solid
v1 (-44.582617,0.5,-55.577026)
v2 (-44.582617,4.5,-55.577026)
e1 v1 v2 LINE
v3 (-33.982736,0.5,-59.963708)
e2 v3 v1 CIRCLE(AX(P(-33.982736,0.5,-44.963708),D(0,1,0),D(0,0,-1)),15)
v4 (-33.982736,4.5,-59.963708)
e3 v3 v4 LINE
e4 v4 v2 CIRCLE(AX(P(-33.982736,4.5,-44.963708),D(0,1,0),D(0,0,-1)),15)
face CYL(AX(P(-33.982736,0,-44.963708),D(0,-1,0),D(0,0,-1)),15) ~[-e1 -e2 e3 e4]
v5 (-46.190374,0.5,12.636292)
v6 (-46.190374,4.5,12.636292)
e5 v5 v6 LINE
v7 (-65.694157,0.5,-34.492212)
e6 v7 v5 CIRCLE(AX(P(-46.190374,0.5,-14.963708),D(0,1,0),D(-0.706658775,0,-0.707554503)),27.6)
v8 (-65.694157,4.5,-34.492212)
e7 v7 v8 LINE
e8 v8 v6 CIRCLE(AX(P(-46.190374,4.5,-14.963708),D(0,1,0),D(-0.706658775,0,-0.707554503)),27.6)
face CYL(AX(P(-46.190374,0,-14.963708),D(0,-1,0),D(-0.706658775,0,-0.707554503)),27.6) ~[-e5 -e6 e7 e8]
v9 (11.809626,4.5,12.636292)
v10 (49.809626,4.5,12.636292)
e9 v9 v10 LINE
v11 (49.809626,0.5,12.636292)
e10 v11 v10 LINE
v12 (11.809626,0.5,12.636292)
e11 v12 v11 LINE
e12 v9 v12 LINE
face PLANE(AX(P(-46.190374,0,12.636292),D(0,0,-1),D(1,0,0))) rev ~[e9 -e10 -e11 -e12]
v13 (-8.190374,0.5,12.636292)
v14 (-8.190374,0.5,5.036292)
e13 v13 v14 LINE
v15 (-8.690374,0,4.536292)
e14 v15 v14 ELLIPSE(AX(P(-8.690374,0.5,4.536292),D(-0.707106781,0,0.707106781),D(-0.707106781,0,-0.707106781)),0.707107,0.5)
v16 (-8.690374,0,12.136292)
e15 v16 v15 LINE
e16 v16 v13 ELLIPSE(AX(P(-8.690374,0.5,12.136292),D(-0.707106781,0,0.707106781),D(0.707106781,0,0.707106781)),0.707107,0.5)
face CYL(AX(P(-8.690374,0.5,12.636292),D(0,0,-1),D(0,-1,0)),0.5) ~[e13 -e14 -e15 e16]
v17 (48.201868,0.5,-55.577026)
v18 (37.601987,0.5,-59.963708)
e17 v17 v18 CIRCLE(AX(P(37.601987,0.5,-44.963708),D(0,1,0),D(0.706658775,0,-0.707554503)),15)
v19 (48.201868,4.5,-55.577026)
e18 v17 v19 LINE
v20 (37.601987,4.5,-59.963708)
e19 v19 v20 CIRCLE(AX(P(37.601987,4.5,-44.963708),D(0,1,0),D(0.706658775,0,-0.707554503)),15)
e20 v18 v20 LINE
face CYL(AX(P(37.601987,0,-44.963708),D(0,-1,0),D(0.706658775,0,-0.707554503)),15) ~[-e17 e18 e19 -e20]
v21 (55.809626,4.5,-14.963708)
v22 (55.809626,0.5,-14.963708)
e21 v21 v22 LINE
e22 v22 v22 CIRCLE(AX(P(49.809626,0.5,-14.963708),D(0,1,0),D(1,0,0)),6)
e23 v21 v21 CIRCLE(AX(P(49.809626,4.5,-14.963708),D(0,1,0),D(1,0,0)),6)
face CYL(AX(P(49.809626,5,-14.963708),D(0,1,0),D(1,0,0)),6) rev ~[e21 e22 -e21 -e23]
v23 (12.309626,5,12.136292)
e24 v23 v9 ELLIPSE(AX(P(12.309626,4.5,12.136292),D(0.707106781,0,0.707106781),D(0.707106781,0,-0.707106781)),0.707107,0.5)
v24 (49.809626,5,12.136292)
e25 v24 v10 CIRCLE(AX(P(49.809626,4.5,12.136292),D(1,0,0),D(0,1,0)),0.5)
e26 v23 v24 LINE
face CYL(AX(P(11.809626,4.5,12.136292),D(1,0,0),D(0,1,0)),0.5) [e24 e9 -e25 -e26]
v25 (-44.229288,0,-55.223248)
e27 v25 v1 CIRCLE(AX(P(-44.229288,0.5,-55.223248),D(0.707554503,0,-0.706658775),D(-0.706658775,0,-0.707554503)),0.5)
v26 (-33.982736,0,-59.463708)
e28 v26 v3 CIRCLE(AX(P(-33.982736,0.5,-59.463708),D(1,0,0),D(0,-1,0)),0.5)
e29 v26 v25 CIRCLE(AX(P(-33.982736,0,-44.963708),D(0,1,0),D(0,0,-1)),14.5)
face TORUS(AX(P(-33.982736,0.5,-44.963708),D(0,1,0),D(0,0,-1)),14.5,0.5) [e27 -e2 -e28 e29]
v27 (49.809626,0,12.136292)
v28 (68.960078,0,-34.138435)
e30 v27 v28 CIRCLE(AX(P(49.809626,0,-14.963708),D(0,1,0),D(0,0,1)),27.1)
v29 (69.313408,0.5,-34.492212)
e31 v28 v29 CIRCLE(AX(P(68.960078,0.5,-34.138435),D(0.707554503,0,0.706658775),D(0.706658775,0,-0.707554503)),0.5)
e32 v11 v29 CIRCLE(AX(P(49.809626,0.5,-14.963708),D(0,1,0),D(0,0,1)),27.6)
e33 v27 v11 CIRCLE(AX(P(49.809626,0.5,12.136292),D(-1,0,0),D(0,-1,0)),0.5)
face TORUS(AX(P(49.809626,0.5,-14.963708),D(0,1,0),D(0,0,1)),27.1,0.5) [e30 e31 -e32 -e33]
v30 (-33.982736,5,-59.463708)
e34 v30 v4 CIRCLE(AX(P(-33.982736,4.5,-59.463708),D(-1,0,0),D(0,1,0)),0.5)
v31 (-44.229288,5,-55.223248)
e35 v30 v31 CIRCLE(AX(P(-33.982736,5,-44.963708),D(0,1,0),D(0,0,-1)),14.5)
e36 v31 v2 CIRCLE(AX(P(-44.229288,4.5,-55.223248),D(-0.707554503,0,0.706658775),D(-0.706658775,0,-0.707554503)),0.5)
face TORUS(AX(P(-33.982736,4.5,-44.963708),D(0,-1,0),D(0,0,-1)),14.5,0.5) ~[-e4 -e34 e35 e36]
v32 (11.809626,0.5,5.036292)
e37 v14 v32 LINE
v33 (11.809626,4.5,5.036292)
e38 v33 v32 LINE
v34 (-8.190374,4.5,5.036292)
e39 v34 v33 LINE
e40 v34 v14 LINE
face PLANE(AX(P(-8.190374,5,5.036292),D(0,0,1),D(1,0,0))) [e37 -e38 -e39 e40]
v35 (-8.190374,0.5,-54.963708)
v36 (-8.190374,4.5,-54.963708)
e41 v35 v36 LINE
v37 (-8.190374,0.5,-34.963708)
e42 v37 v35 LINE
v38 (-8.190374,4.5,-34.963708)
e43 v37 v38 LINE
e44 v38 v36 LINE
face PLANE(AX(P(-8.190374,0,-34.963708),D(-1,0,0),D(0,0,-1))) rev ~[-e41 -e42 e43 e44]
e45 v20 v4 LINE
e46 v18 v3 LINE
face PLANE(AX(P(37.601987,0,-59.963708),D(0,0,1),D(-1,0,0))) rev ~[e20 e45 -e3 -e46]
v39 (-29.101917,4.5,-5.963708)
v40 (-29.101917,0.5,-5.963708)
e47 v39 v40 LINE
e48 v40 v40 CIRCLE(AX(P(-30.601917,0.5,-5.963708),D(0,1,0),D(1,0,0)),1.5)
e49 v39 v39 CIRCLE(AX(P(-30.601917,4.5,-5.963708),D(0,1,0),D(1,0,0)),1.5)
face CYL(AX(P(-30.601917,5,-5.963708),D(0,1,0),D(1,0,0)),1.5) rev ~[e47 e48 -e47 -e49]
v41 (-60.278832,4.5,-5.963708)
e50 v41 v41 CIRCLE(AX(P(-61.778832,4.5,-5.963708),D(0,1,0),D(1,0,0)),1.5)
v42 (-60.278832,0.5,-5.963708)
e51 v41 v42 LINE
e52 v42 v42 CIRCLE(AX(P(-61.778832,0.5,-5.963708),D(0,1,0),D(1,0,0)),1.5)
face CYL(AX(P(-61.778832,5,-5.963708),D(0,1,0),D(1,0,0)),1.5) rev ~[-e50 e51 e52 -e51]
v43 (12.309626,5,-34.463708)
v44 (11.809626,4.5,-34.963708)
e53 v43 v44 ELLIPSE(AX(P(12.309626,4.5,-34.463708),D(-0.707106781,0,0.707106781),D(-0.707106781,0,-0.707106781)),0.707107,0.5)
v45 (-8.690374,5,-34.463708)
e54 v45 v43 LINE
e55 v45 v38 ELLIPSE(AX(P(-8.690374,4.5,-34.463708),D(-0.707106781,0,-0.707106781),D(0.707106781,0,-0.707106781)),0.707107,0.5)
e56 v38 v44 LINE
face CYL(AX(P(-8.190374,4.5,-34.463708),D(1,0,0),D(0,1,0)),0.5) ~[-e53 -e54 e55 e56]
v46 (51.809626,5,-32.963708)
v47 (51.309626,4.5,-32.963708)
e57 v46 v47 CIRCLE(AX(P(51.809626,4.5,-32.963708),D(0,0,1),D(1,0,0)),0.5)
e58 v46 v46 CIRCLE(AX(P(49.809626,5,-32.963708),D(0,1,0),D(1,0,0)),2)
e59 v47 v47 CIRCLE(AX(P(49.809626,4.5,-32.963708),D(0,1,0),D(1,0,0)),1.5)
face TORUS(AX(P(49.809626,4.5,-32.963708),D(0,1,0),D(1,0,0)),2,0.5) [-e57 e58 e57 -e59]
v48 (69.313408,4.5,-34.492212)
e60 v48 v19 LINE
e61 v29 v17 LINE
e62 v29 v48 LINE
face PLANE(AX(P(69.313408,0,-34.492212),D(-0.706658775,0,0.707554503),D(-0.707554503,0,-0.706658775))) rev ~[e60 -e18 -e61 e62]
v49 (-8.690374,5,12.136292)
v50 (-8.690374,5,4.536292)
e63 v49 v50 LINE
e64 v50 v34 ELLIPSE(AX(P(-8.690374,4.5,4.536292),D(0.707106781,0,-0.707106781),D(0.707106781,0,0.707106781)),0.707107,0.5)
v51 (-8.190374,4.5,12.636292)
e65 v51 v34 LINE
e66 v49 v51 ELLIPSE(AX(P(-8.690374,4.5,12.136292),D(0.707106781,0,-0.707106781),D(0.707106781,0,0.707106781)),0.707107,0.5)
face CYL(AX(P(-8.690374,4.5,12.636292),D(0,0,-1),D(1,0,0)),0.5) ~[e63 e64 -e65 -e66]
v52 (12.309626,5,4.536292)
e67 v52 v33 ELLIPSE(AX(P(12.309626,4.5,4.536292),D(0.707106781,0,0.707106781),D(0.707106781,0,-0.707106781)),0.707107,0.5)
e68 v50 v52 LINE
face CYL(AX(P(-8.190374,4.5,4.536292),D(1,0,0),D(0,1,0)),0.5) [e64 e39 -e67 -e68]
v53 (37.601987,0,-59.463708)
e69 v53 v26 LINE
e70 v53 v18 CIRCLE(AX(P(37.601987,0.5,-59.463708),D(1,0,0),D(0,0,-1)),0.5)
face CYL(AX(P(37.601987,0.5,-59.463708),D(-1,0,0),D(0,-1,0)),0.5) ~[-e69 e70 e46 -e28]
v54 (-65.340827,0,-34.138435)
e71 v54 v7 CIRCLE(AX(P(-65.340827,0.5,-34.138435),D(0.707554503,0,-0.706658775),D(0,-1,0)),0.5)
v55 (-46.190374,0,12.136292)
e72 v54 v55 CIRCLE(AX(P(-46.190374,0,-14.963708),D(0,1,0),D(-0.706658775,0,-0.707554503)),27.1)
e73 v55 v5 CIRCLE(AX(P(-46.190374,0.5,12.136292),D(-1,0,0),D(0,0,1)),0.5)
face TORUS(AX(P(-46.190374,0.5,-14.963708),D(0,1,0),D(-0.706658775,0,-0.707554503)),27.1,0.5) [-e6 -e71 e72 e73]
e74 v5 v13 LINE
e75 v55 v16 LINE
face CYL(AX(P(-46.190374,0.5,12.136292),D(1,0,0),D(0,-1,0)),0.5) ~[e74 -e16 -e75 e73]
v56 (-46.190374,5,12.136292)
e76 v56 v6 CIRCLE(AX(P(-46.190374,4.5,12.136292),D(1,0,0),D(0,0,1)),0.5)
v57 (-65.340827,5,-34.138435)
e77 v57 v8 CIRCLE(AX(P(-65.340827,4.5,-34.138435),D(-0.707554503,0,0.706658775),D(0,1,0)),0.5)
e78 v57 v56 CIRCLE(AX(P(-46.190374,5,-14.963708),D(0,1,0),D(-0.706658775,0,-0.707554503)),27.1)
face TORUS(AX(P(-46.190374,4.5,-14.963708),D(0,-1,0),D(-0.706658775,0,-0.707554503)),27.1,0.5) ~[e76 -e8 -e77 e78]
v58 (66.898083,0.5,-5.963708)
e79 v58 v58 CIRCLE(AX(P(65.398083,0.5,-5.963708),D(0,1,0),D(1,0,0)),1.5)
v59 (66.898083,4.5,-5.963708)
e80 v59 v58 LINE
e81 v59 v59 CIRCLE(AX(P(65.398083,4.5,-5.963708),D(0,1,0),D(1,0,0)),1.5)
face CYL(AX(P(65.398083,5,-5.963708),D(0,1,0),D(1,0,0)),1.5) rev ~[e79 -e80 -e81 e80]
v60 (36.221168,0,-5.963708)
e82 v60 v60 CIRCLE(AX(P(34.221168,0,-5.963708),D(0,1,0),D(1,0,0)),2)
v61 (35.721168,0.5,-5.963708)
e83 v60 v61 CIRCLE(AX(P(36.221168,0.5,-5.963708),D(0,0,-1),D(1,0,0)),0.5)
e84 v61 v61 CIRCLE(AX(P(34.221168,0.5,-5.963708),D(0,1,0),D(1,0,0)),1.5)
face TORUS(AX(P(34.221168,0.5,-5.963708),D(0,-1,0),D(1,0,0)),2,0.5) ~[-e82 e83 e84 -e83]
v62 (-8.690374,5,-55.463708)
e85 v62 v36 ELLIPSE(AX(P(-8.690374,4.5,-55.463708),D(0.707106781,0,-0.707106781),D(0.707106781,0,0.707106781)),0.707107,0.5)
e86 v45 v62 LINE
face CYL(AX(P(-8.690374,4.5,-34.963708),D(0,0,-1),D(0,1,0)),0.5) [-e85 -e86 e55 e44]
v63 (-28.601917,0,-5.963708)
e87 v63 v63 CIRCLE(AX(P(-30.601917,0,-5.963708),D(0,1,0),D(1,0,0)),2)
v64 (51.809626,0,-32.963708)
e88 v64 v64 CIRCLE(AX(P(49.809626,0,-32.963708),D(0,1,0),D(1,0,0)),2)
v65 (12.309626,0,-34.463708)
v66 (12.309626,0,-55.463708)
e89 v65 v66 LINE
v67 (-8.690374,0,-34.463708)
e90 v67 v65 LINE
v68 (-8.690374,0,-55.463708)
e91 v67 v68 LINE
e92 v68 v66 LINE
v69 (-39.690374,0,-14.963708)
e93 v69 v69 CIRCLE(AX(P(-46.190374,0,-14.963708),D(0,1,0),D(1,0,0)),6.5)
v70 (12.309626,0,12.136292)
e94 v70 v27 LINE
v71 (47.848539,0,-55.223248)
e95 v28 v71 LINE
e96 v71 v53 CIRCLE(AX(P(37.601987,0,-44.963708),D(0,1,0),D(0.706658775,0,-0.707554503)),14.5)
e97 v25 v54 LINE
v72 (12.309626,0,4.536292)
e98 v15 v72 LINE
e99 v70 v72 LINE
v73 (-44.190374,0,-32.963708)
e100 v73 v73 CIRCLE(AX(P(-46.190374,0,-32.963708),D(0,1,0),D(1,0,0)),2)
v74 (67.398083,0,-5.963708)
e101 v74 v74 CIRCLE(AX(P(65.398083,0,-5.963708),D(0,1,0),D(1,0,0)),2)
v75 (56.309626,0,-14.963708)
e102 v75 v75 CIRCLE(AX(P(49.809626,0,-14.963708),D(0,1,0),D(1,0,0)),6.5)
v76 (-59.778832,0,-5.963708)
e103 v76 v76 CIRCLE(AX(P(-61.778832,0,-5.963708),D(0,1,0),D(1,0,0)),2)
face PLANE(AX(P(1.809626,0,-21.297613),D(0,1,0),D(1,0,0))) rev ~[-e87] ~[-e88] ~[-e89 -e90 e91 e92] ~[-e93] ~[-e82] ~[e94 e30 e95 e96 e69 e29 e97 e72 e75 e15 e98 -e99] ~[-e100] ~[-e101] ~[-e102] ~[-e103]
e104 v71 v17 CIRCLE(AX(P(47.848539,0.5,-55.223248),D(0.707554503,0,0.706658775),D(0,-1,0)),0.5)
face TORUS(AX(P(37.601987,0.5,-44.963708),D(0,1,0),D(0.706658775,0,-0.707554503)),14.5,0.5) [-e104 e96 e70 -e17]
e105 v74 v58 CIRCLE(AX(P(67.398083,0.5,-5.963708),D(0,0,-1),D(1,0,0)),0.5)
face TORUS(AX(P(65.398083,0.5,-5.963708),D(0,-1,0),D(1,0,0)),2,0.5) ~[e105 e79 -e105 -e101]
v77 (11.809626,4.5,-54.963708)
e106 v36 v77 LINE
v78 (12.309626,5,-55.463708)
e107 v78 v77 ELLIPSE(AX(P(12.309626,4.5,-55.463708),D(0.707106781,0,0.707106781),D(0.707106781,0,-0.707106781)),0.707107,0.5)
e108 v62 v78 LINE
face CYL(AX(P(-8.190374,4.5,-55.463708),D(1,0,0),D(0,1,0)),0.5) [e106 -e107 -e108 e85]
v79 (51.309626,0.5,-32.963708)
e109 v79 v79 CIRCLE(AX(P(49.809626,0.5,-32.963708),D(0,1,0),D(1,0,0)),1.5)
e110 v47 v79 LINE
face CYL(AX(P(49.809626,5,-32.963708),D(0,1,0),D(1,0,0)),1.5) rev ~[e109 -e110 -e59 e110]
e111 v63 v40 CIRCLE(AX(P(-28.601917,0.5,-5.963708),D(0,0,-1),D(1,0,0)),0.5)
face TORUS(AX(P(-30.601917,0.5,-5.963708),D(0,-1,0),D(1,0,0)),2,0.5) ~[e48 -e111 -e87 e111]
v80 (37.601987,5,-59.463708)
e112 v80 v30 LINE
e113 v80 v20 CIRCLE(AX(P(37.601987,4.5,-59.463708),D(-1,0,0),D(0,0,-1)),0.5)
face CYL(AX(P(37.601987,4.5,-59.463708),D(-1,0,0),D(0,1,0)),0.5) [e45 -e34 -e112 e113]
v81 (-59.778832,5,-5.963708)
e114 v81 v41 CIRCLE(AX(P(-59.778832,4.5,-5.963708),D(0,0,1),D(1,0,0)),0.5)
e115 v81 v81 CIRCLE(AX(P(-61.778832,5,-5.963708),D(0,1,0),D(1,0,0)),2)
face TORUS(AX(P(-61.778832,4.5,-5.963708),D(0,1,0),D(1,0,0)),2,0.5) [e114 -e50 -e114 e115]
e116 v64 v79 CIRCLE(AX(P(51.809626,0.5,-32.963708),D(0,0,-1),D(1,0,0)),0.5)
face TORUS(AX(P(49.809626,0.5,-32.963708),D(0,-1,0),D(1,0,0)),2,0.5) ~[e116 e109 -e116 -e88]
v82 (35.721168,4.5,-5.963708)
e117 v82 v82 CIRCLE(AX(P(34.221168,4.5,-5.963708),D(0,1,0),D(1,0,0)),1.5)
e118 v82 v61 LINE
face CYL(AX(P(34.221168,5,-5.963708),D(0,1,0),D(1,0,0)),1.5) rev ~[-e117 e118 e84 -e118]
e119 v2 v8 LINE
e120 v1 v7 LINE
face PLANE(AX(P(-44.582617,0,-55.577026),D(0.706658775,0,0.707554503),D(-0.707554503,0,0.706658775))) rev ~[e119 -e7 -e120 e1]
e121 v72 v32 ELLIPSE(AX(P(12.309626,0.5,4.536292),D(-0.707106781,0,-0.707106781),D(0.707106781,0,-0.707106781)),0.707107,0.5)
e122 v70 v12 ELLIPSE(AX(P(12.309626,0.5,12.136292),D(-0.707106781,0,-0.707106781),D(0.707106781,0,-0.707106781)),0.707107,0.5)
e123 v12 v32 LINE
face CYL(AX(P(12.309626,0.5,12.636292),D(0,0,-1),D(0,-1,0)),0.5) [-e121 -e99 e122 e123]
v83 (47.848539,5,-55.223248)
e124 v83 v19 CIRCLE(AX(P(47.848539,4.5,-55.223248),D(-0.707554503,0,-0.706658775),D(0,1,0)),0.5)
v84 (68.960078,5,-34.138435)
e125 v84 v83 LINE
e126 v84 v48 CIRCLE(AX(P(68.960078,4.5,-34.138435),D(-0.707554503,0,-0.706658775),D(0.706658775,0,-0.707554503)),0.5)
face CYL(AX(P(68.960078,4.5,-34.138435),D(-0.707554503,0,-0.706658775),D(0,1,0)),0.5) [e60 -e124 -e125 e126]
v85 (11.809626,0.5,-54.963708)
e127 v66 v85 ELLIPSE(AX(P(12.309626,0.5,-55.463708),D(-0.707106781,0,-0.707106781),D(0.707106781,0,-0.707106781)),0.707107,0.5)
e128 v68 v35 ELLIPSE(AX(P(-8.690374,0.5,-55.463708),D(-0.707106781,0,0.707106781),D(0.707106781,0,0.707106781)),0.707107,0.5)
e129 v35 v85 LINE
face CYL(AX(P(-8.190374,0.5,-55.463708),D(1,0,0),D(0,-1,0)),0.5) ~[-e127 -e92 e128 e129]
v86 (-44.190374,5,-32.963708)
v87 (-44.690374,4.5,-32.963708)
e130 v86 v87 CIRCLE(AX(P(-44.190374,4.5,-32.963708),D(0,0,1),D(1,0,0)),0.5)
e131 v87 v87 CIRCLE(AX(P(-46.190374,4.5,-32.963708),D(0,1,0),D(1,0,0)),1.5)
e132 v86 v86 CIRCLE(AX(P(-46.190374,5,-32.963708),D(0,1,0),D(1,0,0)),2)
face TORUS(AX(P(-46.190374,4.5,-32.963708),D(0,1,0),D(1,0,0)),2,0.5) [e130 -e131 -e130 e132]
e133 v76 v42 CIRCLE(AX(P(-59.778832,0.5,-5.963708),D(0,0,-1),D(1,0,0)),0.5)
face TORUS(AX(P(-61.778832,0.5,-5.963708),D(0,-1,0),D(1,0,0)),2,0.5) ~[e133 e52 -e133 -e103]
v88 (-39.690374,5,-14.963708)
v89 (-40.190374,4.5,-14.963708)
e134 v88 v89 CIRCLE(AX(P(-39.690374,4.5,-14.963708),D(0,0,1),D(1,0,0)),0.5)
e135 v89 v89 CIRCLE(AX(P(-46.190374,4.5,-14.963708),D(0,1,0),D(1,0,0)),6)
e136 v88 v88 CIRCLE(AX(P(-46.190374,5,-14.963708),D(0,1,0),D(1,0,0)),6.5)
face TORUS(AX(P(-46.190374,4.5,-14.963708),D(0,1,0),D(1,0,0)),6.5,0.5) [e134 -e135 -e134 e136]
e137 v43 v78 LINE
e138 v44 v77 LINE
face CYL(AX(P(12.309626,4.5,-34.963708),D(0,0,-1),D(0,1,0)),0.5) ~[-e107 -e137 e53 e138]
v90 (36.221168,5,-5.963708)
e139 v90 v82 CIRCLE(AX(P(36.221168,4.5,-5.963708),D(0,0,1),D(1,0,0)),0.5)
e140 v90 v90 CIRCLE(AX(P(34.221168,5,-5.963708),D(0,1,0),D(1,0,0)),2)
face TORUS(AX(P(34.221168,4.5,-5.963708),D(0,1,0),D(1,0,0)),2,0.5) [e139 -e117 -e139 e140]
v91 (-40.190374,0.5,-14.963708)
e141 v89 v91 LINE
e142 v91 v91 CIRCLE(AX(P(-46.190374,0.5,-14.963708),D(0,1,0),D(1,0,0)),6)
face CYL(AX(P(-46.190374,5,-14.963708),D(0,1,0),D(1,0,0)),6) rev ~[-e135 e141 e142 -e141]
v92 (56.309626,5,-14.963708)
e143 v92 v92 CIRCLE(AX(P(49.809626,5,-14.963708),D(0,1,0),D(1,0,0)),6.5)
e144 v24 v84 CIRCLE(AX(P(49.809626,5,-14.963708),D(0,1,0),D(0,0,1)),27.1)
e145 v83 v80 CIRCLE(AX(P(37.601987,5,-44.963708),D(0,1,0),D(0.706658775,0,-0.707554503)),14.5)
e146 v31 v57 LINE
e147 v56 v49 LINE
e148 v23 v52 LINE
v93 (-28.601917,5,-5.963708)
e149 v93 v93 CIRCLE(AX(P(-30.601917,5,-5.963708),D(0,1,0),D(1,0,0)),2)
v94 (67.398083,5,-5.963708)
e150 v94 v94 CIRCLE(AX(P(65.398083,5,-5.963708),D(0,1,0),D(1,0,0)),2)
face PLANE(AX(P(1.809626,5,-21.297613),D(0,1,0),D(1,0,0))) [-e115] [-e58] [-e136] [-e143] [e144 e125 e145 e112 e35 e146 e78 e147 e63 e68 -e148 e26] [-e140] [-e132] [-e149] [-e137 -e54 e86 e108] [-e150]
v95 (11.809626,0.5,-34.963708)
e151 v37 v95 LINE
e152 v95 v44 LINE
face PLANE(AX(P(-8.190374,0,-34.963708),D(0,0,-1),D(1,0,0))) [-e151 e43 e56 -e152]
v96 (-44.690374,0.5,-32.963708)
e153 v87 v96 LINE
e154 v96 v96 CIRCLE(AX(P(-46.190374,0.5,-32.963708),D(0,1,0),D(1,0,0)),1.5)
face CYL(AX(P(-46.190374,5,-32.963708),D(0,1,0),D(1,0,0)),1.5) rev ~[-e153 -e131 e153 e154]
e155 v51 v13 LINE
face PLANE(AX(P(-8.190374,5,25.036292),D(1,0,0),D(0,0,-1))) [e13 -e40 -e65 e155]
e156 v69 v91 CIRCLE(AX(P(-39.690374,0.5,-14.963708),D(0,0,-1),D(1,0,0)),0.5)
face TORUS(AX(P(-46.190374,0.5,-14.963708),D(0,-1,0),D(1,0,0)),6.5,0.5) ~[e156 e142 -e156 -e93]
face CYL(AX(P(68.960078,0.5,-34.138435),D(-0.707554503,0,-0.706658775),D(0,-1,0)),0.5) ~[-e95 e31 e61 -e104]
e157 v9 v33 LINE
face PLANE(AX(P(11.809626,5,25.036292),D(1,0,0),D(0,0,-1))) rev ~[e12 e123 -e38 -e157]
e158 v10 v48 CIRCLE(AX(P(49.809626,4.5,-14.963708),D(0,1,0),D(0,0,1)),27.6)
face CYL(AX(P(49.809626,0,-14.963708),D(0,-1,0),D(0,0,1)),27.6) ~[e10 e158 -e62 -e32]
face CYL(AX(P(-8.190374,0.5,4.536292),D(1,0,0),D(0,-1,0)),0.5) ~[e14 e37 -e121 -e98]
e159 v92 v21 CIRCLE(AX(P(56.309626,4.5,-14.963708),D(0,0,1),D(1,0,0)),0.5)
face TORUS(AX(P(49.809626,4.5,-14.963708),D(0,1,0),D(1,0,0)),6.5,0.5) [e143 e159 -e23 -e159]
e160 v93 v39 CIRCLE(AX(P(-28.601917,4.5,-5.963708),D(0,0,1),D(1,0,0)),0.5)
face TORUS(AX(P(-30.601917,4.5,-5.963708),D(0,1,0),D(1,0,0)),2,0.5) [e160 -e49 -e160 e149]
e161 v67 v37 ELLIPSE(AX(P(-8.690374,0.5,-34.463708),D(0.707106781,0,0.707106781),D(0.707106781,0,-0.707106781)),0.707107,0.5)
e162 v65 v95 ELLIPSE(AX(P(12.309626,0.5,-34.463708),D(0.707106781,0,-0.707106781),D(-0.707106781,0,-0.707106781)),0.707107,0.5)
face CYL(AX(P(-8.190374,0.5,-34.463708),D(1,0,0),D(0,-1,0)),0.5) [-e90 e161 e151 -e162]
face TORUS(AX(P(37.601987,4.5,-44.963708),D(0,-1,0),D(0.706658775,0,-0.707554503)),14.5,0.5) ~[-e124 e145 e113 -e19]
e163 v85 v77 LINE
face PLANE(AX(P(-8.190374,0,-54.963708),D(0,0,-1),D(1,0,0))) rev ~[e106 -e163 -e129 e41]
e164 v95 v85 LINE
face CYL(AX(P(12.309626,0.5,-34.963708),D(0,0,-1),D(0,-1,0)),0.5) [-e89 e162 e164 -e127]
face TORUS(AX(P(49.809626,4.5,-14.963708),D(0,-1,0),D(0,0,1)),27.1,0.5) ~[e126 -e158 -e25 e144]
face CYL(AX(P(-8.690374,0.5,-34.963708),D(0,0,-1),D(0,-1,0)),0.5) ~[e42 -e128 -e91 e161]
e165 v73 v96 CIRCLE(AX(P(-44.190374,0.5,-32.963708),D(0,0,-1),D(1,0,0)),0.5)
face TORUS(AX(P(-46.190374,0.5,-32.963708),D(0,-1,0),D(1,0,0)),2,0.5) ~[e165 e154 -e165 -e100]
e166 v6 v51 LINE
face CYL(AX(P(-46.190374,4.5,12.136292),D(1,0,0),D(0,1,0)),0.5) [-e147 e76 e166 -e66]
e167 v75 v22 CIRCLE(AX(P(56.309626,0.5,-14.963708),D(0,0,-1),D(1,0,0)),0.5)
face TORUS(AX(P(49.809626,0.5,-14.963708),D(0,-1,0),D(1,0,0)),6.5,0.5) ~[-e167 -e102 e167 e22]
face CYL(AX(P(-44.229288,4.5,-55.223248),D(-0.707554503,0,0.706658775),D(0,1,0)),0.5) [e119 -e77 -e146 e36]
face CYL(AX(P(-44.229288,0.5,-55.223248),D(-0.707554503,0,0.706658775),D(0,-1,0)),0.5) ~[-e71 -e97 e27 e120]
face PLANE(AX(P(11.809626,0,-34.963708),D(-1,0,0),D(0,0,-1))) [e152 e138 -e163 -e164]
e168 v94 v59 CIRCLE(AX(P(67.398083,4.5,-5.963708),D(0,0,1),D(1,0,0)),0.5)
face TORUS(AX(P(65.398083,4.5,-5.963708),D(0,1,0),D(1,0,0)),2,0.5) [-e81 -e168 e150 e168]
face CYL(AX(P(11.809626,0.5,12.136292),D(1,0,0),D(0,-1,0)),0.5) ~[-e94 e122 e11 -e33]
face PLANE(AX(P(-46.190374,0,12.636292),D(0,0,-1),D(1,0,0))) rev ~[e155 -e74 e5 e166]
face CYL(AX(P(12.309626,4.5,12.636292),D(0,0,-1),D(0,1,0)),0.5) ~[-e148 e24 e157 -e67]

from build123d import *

# Parameters (mm, degrees)
SKETCH_1_W          = 20
SKETCH_1_H          = 20
EXTRUDE_1_DEPTH     = 5
SKETCH_2_R          = 6
CUT_EXTRUDE_1_DEPTH = 6
SKETCH_3_W          = 20
SKETCH_3_H          = 20
CUT_EXTRUDE_2_DEPTH = 6
SKETCH_4_R          = 1.5
CUT_EXTRUDE_3_DEPTH = 6
FILLET_1_R          = 0.5


with BuildPart() as part:
    # 草图1 → 凸台-拉伸1 (new body)
    with BuildSketch(Plane(origin=(0, 0, 0), x_dir=(1, 0, 0), z_dir=(0, 1, 0))):
        with BuildLine():
            Line((-46.190374385, -12.63629204), (49.809625615, -12.63629204))
            ThreePointArc((49.809625615, -12.63629204), (75.312044309, 4.409721), (69.313407814, 34.492212253))
            Line((69.313407814, 34.492212253), (48.201868421, 55.57702551))
            ThreePointArc((48.201868421, 55.57702551), (43.337849269, 58.82371812), (37.601986791, 59.96370796))
            Line((37.601986791, 59.96370796), (1.809625615, 59.96370796))
            Line((1.809625615, 59.96370796), (-33.982735561, 59.96370796))
            ThreePointArc((-33.982735561, 59.96370796), (-39.718598039, 58.82371812), (-44.582617191, 55.57702551))
            Line((-44.582617191, 55.57702551), (-65.694156584, 34.492212253))
            ThreePointArc((-65.694156584, 34.492212253), (-71.692793079, 4.409721), (-46.190374385, -12.63629204))
        make_face()
        with Locations((1.809625615, 44.96370796)):
            Rectangle(SKETCH_1_W, SKETCH_1_H, mode=Mode.SUBTRACT)
    extrude(amount=EXTRUDE_1_DEPTH)

    # 草图2 → 切除-拉伸1 (cut, through all)
    with BuildSketch(Plane(origin=(0, 5, 0), x_dir=(1, 0, 0), z_dir=(0, 1, 0))):
        with Locations((-46.190374385, 14.96370796)):
            Circle(SKETCH_2_R)
        with Locations((49.809625615, 14.96370796)):
            Circle(SKETCH_2_R)
    extrude(amount=-CUT_EXTRUDE_1_DEPTH, mode=Mode.SUBTRACT)

    # 草图3 → 切除-拉伸2 (cut, through all)
    with BuildSketch(Plane(origin=(0, 5, 0), x_dir=(1, 0, 0), z_dir=(0, 1, 0))):
        with Locations((1.809625615, -15.03629204)):
            Rectangle(SKETCH_3_W, SKETCH_3_H)
    extrude(amount=-CUT_EXTRUDE_2_DEPTH, mode=Mode.SUBTRACT)

    # 草图4 → 切除-拉伸3 (cut, through all)
    with BuildSketch(Plane(origin=(0, 5, 0), x_dir=(1, 0, 0), z_dir=(0, 1, 0))):
        with Locations((49.809625615, 32.96370796)):
            Circle(SKETCH_4_R)
        with Locations((65.398082883, 5.96370796)):
            Circle(SKETCH_4_R)
        with Locations((34.221168347, 5.96370796)):
            Circle(SKETCH_4_R)
        with Locations((-30.601917117, 5.96370796)):
            Circle(SKETCH_4_R)
        with Locations((-61.778831653, 5.96370796)):
            Circle(SKETCH_4_R)
        with Locations((-46.190374385, 32.96370796)):
            Circle(SKETCH_4_R)
    extrude(amount=-CUT_EXTRUDE_3_DEPTH, mode=Mode.SUBTRACT)

    # 圆角1
    fillet_1_edges = [part.edges().sort_by_distance(p)[0] for p in [
        (1.809625615, 0, -59.96370796),
        (43.337849269, 0, -58.82371812),
        (58.757638117, 0, -45.034618882),
        (75.312044309, 0, -4.409721),
        (-27.190374385, 0, 12.63629204),
        (-71.692793079, 0, -4.409721),
        (75.312044309, 5, -4.409721),
        (58.757638117, 5, -45.034618882),
        (43.337849269, 5, -58.82371812),
        (1.809625615, 5, -59.96370796),
        (11.809625615, 0, -44.96370796),
        (1.809625615, 0, -54.96370796),
        (-8.190374385, 0, -44.96370796),
        (1.809625615, 0, -34.96370796),
        (11.809625615, 5, -44.96370796),
        (1.809625615, 5, -54.96370796),
        (-8.190374385, 5, -44.96370796),
        (1.809625615, 5, -34.96370796),
        (-39.718598039, 5, -58.82371812),
        (-55.138386887, 5, -45.034618882),
        (-52.190374385, 0, -14.96370796),
        (-52.190374385, 5, -14.96370796),
        (43.809625615, 0, -14.96370796),
        (43.809625615, 5, -14.96370796),
        (-71.692793079, 5, -4.409721),
        (30.809625615, 0, 12.63629204),
        (30.809625615, 5, 12.63629204),
        (11.809625615, 0, 8.83629204),
        (-8.190374385, 0, 8.83629204),
        (11.809625615, 5, 8.83629204),
        (1.809625615, 5, 5.03629204),
        (-8.190374385, 5, 8.83629204),
        (1.809625615, 0, 5.03629204),
        (-47.690374385, 0, -32.96370796),
        (-47.690374385, 5, -32.96370796),
        (-63.278831653, 0, -5.96370796),
        (-63.278831653, 5, -5.96370796),
        (-32.101917117, 0, -5.96370796),
        (-32.101917117, 5, -5.96370796),
        (-27.190374385, 5, 12.63629204),
        (32.721168347, 0, -5.96370796),
        (32.721168347, 5, -5.96370796),
        (63.898082883, 0, -5.96370796),
        (63.898082883, 5, -5.96370796),
        (48.309625615, 0, -32.96370796),
        (48.309625615, 5, -32.96370796),
        (-55.138386887, 0, -45.034618882),
        (-39.718598039, 0, -58.82371812),
    ]]
    fillet(fillet_1_edges, radius=FILLET_1_R)


solid = part.part
